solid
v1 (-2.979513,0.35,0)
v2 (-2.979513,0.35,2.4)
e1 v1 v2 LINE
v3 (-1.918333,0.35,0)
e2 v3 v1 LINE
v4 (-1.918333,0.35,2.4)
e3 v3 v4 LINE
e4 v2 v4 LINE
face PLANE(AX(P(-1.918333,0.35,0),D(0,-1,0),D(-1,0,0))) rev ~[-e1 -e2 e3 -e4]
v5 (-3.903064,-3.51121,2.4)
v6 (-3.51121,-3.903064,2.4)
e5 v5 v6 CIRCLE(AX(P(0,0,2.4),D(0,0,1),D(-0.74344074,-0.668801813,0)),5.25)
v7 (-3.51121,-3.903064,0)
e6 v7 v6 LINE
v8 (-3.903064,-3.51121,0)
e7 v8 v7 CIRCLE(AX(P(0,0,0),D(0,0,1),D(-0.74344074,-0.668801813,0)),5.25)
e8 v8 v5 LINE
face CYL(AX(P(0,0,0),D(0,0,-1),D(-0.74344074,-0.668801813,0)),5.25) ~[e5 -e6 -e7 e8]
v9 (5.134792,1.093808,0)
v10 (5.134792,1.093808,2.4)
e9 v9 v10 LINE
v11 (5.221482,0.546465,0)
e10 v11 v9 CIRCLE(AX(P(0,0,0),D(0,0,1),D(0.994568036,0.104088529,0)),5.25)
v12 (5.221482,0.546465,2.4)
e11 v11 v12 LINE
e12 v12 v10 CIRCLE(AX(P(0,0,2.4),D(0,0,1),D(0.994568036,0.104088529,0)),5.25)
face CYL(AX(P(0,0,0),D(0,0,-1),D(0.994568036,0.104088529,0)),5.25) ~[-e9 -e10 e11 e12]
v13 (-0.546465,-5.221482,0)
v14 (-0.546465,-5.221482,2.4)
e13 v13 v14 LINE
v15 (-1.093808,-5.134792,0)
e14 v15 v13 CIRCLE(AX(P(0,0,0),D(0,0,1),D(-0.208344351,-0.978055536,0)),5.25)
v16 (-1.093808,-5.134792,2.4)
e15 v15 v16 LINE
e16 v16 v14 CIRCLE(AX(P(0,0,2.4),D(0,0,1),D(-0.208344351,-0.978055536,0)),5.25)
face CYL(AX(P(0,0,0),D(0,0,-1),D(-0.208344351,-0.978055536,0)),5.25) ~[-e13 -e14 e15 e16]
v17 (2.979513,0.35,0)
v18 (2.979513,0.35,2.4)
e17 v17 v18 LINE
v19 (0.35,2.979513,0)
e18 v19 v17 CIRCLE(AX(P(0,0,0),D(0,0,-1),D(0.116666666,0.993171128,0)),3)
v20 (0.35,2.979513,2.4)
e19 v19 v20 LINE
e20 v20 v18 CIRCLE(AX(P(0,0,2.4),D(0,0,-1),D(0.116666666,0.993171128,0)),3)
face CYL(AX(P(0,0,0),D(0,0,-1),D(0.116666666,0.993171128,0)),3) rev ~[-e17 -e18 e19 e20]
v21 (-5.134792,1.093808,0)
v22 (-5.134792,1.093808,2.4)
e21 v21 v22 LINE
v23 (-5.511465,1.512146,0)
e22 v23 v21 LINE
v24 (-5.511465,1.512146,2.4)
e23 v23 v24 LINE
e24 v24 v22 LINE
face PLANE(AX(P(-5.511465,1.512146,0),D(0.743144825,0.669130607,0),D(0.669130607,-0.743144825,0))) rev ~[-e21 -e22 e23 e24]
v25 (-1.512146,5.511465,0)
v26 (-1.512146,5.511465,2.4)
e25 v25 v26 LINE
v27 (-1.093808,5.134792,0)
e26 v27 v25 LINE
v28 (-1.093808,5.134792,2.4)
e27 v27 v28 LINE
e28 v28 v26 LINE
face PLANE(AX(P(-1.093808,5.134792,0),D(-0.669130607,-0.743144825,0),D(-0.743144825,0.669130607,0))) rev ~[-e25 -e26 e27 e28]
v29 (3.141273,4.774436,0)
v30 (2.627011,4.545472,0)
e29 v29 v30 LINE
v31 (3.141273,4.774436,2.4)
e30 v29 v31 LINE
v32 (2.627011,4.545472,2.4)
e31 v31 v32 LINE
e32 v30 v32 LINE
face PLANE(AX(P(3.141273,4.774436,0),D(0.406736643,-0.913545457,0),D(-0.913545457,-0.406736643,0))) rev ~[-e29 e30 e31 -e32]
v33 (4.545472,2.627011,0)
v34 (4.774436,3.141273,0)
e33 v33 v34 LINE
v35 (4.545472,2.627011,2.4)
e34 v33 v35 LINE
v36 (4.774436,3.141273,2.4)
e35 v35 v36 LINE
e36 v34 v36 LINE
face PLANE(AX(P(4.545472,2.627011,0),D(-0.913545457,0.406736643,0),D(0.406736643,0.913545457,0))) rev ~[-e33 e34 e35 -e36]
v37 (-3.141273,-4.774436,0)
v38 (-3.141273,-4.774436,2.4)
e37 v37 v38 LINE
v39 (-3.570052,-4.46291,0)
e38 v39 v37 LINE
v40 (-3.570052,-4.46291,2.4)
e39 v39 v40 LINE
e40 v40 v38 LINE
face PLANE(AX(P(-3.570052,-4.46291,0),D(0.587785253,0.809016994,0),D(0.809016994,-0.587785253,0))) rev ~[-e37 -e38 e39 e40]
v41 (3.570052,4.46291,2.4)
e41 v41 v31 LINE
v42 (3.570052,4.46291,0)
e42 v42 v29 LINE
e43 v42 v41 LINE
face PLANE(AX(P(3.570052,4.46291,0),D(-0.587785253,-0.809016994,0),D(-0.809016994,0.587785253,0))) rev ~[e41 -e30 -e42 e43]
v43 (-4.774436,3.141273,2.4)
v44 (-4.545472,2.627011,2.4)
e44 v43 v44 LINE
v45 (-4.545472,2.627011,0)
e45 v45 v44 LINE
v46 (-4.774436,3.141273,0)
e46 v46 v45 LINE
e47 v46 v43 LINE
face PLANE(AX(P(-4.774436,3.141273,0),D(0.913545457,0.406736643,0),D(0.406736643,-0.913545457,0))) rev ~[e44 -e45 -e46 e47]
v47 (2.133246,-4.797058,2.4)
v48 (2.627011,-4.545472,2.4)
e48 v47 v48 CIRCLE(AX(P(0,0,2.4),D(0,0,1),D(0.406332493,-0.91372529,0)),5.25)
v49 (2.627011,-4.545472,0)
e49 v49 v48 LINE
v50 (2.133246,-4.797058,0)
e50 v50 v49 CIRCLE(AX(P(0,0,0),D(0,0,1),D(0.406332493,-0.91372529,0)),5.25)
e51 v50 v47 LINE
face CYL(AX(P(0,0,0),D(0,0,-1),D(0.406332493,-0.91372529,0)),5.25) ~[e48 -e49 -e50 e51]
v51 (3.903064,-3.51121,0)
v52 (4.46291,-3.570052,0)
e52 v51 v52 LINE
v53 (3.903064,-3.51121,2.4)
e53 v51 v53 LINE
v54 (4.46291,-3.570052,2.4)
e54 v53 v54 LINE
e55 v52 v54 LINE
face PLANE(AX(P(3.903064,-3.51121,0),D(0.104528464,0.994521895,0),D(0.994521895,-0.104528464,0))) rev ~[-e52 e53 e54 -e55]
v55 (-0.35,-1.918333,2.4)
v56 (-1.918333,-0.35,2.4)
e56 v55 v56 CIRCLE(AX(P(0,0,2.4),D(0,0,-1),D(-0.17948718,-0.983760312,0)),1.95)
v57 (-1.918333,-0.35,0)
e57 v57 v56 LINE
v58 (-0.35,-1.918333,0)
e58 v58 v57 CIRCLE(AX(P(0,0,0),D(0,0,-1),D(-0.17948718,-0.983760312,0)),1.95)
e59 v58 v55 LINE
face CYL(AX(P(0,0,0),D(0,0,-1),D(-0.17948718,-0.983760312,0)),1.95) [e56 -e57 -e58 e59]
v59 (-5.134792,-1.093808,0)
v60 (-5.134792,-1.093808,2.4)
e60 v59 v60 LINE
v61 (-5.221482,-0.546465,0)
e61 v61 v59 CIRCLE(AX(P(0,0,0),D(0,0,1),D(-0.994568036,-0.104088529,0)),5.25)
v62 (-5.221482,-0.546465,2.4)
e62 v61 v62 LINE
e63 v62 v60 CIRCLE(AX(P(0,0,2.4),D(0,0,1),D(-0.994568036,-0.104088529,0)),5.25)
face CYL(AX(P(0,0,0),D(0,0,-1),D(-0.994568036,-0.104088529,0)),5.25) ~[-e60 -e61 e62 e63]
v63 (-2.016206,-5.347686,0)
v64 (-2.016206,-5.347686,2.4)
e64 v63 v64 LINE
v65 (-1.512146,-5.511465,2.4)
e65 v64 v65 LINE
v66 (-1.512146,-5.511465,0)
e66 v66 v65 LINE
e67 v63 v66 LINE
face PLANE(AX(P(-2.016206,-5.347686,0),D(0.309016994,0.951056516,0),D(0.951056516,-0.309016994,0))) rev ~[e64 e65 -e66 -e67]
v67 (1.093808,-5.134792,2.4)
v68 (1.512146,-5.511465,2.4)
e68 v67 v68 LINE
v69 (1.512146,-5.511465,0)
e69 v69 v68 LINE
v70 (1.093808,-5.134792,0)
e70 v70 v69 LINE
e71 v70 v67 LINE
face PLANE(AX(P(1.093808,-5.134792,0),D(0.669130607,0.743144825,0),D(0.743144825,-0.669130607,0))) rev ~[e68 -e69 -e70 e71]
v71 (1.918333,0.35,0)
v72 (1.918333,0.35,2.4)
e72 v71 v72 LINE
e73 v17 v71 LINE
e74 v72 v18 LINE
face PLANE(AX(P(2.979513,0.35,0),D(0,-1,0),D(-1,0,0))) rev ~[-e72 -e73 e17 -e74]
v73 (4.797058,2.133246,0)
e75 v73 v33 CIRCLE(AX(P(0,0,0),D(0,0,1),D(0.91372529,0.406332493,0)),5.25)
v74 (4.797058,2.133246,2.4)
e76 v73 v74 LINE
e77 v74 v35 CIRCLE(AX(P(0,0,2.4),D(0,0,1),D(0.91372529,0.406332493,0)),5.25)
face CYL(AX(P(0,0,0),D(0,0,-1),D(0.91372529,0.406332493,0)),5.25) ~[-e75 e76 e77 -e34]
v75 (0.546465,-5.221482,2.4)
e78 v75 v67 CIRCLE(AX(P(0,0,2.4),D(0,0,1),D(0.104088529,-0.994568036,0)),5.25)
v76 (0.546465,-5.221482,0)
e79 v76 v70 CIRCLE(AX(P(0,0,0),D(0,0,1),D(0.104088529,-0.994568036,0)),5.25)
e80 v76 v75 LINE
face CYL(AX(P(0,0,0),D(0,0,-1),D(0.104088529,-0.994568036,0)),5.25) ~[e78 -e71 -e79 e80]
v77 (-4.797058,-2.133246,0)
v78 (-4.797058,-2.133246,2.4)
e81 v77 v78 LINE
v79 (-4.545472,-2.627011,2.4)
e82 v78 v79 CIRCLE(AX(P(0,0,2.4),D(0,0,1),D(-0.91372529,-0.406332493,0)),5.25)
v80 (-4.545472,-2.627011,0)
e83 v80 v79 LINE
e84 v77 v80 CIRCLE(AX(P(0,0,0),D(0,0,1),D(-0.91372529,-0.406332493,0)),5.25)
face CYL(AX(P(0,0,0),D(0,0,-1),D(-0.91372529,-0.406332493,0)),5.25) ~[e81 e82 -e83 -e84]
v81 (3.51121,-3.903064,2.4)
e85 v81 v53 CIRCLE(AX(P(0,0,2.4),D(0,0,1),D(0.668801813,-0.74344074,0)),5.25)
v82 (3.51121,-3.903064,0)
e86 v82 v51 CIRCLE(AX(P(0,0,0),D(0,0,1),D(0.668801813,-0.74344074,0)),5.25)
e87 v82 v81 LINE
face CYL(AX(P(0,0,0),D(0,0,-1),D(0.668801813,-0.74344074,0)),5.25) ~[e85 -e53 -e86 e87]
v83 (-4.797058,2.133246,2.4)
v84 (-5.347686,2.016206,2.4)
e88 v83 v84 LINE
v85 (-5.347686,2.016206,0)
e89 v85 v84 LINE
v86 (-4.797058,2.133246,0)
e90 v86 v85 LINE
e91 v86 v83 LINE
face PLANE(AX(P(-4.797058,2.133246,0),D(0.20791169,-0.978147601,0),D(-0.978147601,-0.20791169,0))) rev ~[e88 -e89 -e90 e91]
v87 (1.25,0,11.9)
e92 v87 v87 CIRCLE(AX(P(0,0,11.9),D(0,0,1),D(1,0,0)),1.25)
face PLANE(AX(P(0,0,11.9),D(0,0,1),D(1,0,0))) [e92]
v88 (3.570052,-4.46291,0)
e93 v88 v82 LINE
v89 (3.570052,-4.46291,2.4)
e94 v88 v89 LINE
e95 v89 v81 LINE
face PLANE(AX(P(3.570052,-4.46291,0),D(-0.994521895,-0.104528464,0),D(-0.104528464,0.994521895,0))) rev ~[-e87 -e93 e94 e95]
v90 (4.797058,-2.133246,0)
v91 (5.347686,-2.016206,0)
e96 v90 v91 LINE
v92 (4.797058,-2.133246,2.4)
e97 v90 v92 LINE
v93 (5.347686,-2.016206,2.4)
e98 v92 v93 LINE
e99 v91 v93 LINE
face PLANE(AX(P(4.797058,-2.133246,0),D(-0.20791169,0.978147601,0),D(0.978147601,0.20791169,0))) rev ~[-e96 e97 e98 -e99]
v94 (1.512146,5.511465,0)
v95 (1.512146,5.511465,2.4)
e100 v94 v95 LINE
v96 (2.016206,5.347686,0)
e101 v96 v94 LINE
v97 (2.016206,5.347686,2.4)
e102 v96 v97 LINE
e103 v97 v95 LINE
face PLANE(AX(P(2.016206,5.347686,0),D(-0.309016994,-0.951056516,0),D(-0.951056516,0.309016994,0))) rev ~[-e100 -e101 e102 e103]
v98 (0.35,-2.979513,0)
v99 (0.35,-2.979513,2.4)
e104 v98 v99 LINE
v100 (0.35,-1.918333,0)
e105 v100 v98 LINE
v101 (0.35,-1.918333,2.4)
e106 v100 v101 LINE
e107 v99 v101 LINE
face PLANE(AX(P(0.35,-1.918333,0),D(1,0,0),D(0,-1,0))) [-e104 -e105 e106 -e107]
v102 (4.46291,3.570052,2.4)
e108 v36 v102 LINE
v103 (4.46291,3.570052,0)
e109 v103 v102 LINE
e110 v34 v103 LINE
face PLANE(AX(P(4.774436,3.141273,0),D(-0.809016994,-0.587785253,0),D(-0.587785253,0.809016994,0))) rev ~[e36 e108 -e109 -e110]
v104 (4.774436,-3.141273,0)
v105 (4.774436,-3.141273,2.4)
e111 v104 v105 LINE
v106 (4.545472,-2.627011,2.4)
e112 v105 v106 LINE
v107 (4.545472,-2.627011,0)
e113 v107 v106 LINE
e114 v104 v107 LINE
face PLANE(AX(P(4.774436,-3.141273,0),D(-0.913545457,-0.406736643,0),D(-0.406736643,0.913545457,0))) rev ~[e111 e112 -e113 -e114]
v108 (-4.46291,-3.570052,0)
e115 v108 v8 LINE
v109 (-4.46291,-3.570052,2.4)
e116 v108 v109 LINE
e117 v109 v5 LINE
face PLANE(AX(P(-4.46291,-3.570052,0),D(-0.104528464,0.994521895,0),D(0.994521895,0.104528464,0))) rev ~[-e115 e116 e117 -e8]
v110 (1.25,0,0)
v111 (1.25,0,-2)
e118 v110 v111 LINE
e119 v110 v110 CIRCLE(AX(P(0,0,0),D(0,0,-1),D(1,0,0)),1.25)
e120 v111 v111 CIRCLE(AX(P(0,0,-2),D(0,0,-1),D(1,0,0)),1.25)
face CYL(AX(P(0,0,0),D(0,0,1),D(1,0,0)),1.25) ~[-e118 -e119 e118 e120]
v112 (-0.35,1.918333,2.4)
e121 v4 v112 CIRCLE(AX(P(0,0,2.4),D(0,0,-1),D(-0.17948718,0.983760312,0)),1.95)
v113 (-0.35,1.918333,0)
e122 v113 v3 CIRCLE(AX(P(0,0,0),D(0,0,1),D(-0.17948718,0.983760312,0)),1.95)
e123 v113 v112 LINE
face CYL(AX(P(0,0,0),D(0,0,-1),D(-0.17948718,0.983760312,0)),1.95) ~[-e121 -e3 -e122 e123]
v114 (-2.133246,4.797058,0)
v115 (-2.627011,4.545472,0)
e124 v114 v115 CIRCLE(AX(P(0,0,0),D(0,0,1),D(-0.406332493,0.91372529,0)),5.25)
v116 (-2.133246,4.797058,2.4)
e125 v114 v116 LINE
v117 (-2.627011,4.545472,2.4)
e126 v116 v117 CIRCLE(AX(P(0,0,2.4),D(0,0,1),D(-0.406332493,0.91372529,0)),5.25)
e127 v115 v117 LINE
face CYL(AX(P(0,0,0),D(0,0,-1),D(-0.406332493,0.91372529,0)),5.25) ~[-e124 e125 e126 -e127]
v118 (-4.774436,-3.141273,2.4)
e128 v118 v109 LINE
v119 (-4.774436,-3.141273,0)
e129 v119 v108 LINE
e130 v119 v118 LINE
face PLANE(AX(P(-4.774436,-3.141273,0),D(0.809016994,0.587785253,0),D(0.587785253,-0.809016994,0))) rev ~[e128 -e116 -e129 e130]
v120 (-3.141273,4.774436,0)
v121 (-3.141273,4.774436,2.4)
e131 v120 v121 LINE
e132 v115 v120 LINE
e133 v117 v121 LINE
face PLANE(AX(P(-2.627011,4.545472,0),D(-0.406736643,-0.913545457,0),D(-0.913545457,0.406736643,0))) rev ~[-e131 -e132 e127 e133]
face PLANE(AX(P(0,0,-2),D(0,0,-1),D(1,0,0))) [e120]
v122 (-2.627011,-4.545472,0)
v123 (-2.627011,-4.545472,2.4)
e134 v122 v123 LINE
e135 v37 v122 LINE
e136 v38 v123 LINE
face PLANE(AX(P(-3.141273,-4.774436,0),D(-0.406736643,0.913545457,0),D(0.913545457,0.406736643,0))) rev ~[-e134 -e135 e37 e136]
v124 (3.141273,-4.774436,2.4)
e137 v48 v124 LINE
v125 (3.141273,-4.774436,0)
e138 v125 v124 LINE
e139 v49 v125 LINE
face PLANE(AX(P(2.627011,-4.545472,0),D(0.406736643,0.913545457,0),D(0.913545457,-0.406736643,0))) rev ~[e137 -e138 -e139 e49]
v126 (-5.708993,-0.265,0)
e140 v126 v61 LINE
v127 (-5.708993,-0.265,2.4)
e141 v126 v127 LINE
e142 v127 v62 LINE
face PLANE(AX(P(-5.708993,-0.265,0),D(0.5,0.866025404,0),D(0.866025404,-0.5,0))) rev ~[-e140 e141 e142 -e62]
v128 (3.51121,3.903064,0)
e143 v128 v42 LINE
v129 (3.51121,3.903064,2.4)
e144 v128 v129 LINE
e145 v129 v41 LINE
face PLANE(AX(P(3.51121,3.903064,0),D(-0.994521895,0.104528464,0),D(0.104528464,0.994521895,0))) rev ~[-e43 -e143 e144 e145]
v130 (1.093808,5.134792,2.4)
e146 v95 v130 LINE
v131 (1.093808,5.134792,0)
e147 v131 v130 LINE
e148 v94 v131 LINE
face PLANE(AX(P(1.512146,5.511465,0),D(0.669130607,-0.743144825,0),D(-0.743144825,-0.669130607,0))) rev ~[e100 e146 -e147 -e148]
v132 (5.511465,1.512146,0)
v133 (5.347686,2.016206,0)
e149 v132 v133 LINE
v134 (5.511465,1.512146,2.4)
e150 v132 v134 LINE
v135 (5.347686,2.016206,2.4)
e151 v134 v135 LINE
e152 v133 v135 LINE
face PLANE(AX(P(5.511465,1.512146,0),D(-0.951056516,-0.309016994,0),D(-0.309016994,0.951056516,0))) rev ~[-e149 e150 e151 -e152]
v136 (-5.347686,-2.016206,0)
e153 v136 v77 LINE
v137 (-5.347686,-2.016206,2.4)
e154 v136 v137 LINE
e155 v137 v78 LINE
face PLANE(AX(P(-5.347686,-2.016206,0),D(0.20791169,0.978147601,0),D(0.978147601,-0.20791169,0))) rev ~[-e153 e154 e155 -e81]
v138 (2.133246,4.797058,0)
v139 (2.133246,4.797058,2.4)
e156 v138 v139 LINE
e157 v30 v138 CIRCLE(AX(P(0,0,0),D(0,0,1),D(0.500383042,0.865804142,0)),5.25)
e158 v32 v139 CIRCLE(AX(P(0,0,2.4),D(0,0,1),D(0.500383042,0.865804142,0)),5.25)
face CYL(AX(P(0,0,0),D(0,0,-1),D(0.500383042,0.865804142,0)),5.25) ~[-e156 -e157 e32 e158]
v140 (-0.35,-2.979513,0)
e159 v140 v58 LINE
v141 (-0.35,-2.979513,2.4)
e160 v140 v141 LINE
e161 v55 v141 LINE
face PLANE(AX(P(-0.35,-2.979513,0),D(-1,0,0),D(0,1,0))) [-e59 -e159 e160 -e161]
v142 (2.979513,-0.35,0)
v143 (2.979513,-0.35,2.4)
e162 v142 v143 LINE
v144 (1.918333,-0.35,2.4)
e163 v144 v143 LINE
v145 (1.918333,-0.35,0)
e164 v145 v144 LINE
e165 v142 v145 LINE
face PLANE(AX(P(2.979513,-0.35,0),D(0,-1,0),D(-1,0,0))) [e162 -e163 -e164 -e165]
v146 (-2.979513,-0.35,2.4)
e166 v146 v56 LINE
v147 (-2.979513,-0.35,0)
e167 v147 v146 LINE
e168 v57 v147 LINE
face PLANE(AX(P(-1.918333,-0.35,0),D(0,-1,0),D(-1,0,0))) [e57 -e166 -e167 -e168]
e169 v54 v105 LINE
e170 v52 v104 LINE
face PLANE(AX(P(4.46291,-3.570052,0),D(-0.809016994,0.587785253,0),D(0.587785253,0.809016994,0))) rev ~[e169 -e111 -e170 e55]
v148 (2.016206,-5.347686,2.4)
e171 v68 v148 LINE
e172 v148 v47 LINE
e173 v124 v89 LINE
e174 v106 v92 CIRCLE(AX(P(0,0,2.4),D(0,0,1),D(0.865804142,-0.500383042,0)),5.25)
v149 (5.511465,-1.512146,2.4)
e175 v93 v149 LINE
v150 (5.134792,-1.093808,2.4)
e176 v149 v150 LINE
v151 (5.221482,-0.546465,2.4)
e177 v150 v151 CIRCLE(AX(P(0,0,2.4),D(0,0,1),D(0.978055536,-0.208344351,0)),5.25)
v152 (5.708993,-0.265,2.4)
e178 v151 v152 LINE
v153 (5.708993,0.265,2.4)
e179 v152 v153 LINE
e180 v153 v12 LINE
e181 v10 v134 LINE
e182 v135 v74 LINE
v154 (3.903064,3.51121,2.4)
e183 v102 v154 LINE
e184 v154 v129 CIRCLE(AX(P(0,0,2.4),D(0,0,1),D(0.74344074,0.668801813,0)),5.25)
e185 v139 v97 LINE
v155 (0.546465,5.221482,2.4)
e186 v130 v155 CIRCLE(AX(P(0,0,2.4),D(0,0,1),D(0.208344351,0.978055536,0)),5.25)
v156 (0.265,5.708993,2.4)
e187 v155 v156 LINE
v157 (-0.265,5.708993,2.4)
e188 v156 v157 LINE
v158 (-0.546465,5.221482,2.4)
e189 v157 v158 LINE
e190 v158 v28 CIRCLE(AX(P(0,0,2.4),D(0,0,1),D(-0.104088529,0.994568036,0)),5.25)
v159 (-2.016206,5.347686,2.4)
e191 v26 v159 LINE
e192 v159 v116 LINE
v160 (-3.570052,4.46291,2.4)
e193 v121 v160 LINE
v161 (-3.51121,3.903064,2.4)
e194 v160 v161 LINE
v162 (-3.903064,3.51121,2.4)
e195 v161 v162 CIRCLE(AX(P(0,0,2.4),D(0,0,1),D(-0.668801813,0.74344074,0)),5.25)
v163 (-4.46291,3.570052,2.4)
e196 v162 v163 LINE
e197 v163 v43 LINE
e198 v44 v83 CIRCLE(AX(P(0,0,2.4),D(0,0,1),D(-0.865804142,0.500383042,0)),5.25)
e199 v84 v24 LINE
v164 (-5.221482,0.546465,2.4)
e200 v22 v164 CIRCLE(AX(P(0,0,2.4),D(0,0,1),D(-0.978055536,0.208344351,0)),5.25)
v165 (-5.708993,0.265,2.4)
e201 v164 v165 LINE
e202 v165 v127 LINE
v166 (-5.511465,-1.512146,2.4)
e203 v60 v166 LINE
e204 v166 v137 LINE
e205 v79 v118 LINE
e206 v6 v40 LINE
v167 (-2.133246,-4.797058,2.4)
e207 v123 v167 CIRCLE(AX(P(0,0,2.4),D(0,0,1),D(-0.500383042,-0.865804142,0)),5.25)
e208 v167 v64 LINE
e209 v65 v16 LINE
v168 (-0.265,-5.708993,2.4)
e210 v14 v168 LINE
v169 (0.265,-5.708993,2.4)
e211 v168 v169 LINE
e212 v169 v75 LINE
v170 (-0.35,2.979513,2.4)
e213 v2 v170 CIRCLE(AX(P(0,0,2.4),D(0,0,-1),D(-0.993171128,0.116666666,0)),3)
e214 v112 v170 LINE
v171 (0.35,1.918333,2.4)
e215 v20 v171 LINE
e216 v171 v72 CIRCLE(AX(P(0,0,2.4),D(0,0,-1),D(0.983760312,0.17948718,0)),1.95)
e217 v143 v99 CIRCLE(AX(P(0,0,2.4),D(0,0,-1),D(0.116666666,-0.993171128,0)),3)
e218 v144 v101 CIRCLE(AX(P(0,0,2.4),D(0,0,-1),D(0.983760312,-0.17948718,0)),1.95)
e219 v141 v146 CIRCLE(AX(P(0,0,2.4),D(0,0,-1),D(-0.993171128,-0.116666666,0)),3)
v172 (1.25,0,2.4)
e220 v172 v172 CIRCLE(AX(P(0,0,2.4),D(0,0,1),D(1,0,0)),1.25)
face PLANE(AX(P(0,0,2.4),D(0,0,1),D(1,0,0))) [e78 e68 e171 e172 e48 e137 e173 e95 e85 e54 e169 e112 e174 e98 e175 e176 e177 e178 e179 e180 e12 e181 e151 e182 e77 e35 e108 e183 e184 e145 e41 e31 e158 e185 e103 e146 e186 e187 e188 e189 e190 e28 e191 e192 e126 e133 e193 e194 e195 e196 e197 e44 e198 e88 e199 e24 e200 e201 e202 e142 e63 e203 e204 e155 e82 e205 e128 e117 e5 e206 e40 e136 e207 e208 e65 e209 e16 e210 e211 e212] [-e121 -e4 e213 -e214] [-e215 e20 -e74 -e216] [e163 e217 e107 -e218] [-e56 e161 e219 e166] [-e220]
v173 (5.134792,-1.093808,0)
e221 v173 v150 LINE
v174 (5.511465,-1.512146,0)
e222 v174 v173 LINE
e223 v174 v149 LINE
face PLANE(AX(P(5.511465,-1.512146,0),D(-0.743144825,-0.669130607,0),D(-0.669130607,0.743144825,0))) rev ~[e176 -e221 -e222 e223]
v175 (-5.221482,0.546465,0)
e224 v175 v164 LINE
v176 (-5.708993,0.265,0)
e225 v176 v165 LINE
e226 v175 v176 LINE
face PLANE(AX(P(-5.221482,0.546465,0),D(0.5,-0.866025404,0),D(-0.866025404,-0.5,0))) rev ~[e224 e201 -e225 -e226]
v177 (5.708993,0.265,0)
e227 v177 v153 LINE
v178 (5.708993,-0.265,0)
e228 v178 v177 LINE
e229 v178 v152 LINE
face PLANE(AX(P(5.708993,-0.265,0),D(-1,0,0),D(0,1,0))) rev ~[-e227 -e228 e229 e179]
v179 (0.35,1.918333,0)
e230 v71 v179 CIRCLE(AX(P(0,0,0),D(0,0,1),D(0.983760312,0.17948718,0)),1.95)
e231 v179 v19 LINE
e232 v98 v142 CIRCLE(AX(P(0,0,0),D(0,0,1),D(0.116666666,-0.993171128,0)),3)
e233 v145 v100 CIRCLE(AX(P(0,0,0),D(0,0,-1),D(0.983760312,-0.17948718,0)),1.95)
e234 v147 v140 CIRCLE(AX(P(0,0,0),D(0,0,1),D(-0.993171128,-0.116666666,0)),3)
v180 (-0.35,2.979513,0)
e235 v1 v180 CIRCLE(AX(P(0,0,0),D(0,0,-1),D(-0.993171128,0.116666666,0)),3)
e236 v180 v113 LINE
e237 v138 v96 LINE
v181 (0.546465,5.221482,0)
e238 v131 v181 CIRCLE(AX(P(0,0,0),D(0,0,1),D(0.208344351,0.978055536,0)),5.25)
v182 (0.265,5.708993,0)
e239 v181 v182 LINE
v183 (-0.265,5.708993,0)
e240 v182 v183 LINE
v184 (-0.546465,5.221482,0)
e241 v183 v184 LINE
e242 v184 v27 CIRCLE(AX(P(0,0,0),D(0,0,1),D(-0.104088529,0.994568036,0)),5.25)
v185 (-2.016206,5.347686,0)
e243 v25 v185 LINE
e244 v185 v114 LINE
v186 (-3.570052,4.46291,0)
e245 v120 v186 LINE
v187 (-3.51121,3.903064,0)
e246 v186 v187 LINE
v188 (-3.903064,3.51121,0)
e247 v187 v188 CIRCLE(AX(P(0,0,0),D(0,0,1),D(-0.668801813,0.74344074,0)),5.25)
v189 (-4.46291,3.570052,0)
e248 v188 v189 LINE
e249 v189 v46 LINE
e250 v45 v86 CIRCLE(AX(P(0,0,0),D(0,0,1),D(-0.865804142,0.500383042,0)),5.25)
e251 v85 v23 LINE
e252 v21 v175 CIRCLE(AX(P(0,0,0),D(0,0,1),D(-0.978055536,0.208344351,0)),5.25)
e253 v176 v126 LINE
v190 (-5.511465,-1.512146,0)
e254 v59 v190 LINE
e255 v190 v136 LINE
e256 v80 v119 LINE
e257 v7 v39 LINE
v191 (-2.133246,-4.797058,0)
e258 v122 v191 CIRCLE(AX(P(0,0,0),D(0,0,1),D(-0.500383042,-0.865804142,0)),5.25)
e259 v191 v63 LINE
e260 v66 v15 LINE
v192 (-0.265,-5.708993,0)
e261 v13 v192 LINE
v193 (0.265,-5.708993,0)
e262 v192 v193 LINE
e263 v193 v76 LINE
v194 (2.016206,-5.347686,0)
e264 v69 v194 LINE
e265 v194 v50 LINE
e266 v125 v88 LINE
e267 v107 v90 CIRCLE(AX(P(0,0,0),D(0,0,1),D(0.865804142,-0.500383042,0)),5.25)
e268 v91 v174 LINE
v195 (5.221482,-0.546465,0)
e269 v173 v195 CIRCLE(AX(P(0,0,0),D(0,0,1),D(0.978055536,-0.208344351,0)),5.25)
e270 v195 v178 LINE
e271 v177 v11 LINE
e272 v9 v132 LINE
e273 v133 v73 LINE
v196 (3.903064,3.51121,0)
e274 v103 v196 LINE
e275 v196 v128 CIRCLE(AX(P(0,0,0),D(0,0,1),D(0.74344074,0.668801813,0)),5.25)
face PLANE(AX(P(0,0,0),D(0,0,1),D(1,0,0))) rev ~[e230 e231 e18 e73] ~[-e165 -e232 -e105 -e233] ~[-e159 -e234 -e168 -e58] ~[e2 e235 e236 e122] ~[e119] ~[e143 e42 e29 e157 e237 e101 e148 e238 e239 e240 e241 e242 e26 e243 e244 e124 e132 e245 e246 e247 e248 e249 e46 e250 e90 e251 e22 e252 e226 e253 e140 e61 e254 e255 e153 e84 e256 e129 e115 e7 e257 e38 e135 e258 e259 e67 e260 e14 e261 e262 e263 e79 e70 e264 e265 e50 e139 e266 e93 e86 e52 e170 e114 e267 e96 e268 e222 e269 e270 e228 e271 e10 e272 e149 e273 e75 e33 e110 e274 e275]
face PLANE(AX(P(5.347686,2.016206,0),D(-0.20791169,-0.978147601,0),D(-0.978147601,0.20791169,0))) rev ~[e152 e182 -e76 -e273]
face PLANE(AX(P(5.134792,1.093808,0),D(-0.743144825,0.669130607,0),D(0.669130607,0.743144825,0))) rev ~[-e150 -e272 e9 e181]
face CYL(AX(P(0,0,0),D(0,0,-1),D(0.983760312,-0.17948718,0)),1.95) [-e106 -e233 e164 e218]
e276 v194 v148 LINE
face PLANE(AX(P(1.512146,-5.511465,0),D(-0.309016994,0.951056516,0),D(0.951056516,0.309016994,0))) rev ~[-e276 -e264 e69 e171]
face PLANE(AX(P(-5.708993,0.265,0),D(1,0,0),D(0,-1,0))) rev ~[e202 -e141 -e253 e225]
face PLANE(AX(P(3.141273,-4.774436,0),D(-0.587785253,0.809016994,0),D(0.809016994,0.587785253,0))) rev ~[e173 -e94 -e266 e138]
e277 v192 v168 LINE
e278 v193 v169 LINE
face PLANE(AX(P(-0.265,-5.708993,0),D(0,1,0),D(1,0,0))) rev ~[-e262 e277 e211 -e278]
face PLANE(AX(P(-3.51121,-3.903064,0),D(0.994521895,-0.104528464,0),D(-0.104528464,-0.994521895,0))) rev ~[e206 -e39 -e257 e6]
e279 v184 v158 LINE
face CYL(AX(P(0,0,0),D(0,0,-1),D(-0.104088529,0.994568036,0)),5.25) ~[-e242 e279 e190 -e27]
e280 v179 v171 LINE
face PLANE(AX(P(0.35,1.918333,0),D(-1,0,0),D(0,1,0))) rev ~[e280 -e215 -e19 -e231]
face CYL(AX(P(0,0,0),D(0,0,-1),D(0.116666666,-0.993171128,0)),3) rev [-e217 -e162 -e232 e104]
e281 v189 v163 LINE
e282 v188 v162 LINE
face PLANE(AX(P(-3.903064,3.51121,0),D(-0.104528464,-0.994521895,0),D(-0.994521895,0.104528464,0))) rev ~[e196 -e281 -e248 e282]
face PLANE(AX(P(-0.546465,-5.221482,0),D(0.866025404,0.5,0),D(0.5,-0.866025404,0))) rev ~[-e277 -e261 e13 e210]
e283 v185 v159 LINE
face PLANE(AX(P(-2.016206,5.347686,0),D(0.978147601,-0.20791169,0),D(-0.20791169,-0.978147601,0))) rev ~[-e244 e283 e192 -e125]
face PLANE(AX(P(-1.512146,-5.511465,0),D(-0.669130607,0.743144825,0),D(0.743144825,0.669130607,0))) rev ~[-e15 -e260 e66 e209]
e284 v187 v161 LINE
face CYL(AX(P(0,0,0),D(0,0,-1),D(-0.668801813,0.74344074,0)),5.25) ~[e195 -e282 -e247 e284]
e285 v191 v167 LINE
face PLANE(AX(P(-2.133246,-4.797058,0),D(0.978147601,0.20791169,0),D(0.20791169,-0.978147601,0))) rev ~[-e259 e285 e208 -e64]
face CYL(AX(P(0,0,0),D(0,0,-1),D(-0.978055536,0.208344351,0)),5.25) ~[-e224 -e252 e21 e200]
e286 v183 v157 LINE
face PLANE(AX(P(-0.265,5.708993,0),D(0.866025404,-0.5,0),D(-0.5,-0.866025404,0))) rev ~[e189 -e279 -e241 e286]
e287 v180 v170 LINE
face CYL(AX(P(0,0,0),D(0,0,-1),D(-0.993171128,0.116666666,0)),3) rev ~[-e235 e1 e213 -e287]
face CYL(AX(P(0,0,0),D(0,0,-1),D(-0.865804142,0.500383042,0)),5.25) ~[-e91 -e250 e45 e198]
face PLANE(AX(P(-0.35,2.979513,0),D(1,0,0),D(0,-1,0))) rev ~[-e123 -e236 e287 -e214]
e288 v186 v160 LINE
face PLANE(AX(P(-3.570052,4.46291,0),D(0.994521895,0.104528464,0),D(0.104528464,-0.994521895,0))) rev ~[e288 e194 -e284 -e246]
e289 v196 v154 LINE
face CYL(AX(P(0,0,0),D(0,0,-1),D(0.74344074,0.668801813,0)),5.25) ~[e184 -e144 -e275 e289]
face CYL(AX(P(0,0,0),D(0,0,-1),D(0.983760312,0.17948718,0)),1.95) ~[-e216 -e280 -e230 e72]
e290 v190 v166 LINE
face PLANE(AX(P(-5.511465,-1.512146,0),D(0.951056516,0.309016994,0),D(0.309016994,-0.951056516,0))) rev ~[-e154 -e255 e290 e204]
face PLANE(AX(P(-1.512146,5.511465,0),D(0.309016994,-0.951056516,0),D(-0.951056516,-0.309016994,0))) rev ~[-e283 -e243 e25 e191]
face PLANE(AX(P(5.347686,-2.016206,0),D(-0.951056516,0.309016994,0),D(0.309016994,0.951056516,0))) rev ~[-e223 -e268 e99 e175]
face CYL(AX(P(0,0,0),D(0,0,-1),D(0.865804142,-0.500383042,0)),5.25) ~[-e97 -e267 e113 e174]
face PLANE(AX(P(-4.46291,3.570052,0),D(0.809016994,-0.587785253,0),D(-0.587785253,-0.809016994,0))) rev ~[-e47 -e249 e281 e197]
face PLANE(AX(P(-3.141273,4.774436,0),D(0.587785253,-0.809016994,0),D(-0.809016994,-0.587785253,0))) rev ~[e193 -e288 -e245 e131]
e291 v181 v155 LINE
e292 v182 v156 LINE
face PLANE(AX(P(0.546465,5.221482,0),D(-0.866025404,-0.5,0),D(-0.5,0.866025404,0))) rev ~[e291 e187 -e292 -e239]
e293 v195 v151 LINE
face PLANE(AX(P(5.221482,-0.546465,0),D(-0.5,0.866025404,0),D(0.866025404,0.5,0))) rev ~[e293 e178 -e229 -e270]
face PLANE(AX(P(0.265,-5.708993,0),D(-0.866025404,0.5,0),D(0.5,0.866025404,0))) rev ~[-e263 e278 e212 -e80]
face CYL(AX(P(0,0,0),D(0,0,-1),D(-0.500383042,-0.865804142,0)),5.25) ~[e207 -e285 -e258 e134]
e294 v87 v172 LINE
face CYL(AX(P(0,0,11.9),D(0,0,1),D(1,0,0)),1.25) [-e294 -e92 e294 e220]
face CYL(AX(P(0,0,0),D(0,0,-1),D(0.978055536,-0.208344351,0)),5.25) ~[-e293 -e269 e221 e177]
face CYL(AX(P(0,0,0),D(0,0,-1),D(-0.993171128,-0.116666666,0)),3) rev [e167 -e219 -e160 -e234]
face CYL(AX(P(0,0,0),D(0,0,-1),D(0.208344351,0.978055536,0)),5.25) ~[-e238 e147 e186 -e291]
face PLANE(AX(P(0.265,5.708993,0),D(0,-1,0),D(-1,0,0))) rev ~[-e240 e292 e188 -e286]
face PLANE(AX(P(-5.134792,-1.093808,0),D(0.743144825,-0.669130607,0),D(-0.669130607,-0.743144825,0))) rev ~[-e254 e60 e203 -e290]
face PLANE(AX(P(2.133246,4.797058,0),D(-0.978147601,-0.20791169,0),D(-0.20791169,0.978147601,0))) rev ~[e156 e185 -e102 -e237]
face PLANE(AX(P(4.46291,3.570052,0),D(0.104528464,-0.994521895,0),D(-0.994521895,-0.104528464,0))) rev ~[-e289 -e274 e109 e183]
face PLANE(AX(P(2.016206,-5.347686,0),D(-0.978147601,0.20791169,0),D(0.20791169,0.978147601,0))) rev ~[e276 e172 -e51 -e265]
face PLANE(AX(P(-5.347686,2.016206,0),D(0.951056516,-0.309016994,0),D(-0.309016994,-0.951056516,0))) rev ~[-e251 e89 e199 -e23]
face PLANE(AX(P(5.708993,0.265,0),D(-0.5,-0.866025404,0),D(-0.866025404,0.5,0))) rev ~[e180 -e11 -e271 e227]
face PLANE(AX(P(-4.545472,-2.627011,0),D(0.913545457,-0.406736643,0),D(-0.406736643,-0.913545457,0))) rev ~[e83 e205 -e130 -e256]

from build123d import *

# Parameters (mm, degrees)
DODANIE_WYCI_GNI_CIE2_DEPTH = 2.4
SZKIC2_R                    = 1.25
DODANIE_WYCI_GNI_CIE3_DEPTH = 2
DODANIE_WYCI_GNI_CIE4_START = 9.5
SZKIC3_R                    = 1.25
DODANIE_WYCI_GNI_CIE4_DEPTH = 9.5
WYTNIJ_WYCI_GNI_CIE1_DEPTH  = 9.5


with BuildPart() as part:
    # Szkic1 → Dodanie-wyciągnięcie2 (new body)
    with BuildSketch(Plane.XY):
        with BuildLine():
            Line((2.133245608, 4.797057762), (2.016205978, 5.347685932))
            Line((2.016205978, 5.347685932), (1.512146024, 5.511464939))
            Line((1.512146024, 5.511464939), (1.093807857, 5.134791561))
            ThreePointArc((1.093807857, 5.134791561), (0.821280941, 5.185363788), (0.546464765, 5.22148219))
            Line((0.546464765, 5.22148219), (0.265, 5.708993464))
            Line((0.265, 5.708993464), (-0.265, 5.708993464))
            Line((-0.265, 5.708993464), (-0.546464765, 5.22148219))
            ThreePointArc((-0.546464765, 5.22148219), (-0.821280941, 5.185363788), (-1.093807857, 5.134791561))
            Line((-1.093807857, 5.134791561), (-1.512146024, 5.511464939))
            Line((-1.512146024, 5.511464939), (-2.016205978, 5.347685932))
            Line((-2.016205978, 5.347685932), (-2.133245608, 4.797057762))
            ThreePointArc((-2.133245608, 4.797057762), (-2.383450124, 4.677784252), (-2.627010944, 4.545471757))
            Line((-2.627010944, 4.545471757), (-3.14127266, 4.774435825))
            Line((-3.14127266, 4.774435825), (-3.570051667, 4.462909641))
            Line((-3.570051667, 4.462909641), (-3.511209508, 3.903063898))
            ThreePointArc((-3.511209508, 3.903063898), (-3.712310601, 3.712310601), (-3.903063898, 3.511209508))
            Line((-3.903063898, 3.511209508), (-4.462909641, 3.570051667))
            Line((-4.462909641, 3.570051667), (-4.774435825, 3.14127266))
            Line((-4.774435825, 3.14127266), (-4.545471757, 2.627010944))
            ThreePointArc((-4.545471757, 2.627010944), (-4.677784252, 2.383450124), (-4.797057762, 2.133245608))
            Line((-4.797057762, 2.133245608), (-5.347685932, 2.016205978))
            Line((-5.347685932, 2.016205978), (-5.511464939, 1.512146024))
            Line((-5.511464939, 1.512146024), (-5.134791561, 1.093807857))
            ThreePointArc((-5.134791561, 1.093807857), (-5.185363788, 0.821280941), (-5.22148219, 0.546464765))
            Line((-5.22148219, 0.546464765), (-5.708993464, 0.265))
            Line((-5.708993464, 0.265), (-5.708993464, -0.265))
            Line((-5.708993464, -0.265), (-5.22148219, -0.546464765))
            ThreePointArc((-5.22148219, -0.546464765), (-5.185363788, -0.821280941), (-5.134791561, -1.093807857))
            Line((-5.134791561, -1.093807857), (-5.511464939, -1.512146024))
            Line((-5.511464939, -1.512146024), (-5.347685932, -2.016205978))
            Line((-5.347685932, -2.016205978), (-4.797057762, -2.133245608))
            ThreePointArc((-4.797057762, -2.133245608), (-4.677784252, -2.383450124), (-4.545471757, -2.627010944))
            Line((-4.545471757, -2.627010944), (-4.774435825, -3.14127266))
            Line((-4.774435825, -3.14127266), (-4.462909641, -3.570051667))
            Line((-4.462909641, -3.570051667), (-3.903063898, -3.511209508))
            ThreePointArc((-3.903063898, -3.511209508), (-3.712310601, -3.712310601), (-3.511209508, -3.903063898))
            Line((-3.511209508, -3.903063898), (-3.570051667, -4.462909641))
            Line((-3.570051667, -4.462909641), (-3.14127266, -4.774435825))
            Line((-3.14127266, -4.774435825), (-2.627010944, -4.545471757))
            ThreePointArc((-2.627010944, -4.545471757), (-2.383450124, -4.677784252), (-2.133245608, -4.797057762))
            Line((-2.133245608, -4.797057762), (-2.016205978, -5.347685932))
            Line((-2.016205978, -5.347685932), (-1.512146024, -5.511464939))
            Line((-1.512146024, -5.511464939), (-1.093807857, -5.134791561))
            ThreePointArc((-1.093807857, -5.134791561), (-0.821280941, -5.185363788), (-0.546464765, -5.22148219))
            Line((-0.546464765, -5.22148219), (-0.265, -5.708993464))
            Line((-0.265, -5.708993464), (0.265, -5.708993464))
            Line((0.265, -5.708993464), (0.546464765, -5.22148219))
            ThreePointArc((0.546464765, -5.22148219), (0.821280941, -5.185363788), (1.093807857, -5.134791561))
            Line((1.093807857, -5.134791561), (1.512146024, -5.511464939))
            Line((1.512146024, -5.511464939), (2.016205978, -5.347685932))
            Line((2.016205978, -5.347685932), (2.133245608, -4.797057762))
            ThreePointArc((2.133245608, -4.797057762), (2.383450124, -4.677784252), (2.627010944, -4.545471757))
            Line((2.627010944, -4.545471757), (3.14127266, -4.774435825))
            Line((3.14127266, -4.774435825), (3.570051667, -4.462909641))
            Line((3.570051667, -4.462909641), (3.511209508, -3.903063898))
            ThreePointArc((3.511209508, -3.903063898), (3.712310601, -3.712310601), (3.903063898, -3.511209508))
            Line((3.903063898, -3.511209508), (4.462909641, -3.570051667))
            Line((4.462909641, -3.570051667), (4.774435825, -3.14127266))
            Line((4.774435825, -3.14127266), (4.545471757, -2.627010944))
            ThreePointArc((4.545471757, -2.627010944), (4.677784252, -2.383450124), (4.797057762, -2.133245608))
            Line((4.797057762, -2.133245608), (5.347685932, -2.016205978))
            Line((5.347685932, -2.016205978), (5.511464939, -1.512146024))
            Line((5.511464939, -1.512146024), (5.134791561, -1.093807857))
            ThreePointArc((5.134791561, -1.093807857), (5.185363788, -0.821280941), (5.22148219, -0.546464765))
            Line((5.22148219, -0.546464765), (5.708993464, -0.265))
            Line((5.708993464, -0.265), (5.708993464, 0.265))
            Line((5.708993464, 0.265), (5.22148219, 0.546464765))
            ThreePointArc((5.22148219, 0.546464765), (5.185363788, 0.821280941), (5.134791561, 1.093807857))
            Line((5.134791561, 1.093807857), (5.511464939, 1.512146024))
            Line((5.511464939, 1.512146024), (5.347685932, 2.016205978))
            Line((5.347685932, 2.016205978), (4.797057762, 2.133245608))
            ThreePointArc((4.797057762, 2.133245608), (4.677784252, 2.383450124), (4.545471757, 2.627010944))
            Line((4.545471757, 2.627010944), (4.774435825, 3.14127266))
            Line((4.774435825, 3.14127266), (4.462909641, 3.570051667))
            Line((4.462909641, 3.570051667), (3.903063898, 3.511209508))
            ThreePointArc((3.903063898, 3.511209508), (3.712310601, 3.712310601), (3.511209508, 3.903063898))
            Line((3.511209508, 3.903063898), (3.570051667, 4.462909641))
            Line((3.570051667, 4.462909641), (3.14127266, 4.774435825))
            Line((3.14127266, 4.774435825), (2.627010944, 4.545471757))
            ThreePointArc((2.627010944, 4.545471757), (2.383450124, 4.677784252), (2.133245608, 4.797057762))
        make_face()
    extrude(amount=DODANIE_WYCI_GNI_CIE2_DEPTH)

    # Szkic2 → Dodanie-wyciągnięcie3 (add)
    with BuildSketch(Plane(origin=(0, 0, 0), x_dir=(-1, 0, 0), z_dir=(0, 0, -1))):
        with Locations(Location((0, 0, 0), (0, 0, 180))):
            Circle(SZKIC2_R)
    extrude(amount=DODANIE_WYCI_GNI_CIE3_DEPTH)

    # Szkic3 → Dodanie-wyciągnięcie4 (add)
    with BuildSketch(Plane.XY.offset(2.4).offset(DODANIE_WYCI_GNI_CIE4_START)):
        Circle(SZKIC3_R)
    extrude(amount=-DODANIE_WYCI_GNI_CIE4_DEPTH)

    # Szkic4 → Wytnij-wyciągnięcie1 (cut)
    with BuildSketch(Plane(origin=(0, 0, 0), x_dir=(-1, 0, 0), z_dir=(0, 0, -1))):
        with BuildLine():
            Line((-2.979513383, 0.35), (-1.918332609, 0.35))
            ThreePointArc((-1.918332609, 0.35), (-1.378858223, 1.378858223), (-0.35, 1.918332609))
            Line((-0.35, 1.918332609), (-0.35, 2.979513383))
            ThreePointArc((-0.35, 2.979513383), (-2.121320344, 2.121320344), (-2.979513383, 0.35))
        make_face()
        with BuildLine():
            Line((-2.979513383, -0.35), (-1.918332609, -0.35))
            ThreePointArc((-1.918332609, -0.35), (-1.378858223, -1.378858223), (-0.35, -1.918332609))
            Line((-0.35, -1.918332609), (-0.35, -2.979513383))
            ThreePointArc((-0.35, -2.979513383), (-2.121320344, -2.121320344), (-2.979513383, -0.35))
        make_face()
        with BuildLine():
            Line((1.918332609, 0.35), (2.979513383, 0.35))
            ThreePointArc((2.979513383, 0.35), (2.121320344, 2.121320344), (0.35, 2.979513383))
            Line((0.35, 2.979513383), (0.35, 1.918332609))
            ThreePointArc((0.35, 1.918332609), (1.378858223, 1.378858223), (1.918332609, 0.35))
        make_face()
        with BuildLine():
            Line((1.918332609, -0.35), (2.979513383, -0.35))
            ThreePointArc((2.979513383, -0.35), (2.121320344, -2.121320344), (0.35, -2.979513383))
            Line((0.35, -2.979513383), (0.35, -1.918332609))
            ThreePointArc((0.35, -1.918332609), (1.378858223, -1.378858223), (1.918332609, -0.35))
        make_face()
    extrude(amount=-WYTNIJ_WYCI_GNI_CIE1_DEPTH, mode=Mode.SUBTRACT)


solid = part.part
